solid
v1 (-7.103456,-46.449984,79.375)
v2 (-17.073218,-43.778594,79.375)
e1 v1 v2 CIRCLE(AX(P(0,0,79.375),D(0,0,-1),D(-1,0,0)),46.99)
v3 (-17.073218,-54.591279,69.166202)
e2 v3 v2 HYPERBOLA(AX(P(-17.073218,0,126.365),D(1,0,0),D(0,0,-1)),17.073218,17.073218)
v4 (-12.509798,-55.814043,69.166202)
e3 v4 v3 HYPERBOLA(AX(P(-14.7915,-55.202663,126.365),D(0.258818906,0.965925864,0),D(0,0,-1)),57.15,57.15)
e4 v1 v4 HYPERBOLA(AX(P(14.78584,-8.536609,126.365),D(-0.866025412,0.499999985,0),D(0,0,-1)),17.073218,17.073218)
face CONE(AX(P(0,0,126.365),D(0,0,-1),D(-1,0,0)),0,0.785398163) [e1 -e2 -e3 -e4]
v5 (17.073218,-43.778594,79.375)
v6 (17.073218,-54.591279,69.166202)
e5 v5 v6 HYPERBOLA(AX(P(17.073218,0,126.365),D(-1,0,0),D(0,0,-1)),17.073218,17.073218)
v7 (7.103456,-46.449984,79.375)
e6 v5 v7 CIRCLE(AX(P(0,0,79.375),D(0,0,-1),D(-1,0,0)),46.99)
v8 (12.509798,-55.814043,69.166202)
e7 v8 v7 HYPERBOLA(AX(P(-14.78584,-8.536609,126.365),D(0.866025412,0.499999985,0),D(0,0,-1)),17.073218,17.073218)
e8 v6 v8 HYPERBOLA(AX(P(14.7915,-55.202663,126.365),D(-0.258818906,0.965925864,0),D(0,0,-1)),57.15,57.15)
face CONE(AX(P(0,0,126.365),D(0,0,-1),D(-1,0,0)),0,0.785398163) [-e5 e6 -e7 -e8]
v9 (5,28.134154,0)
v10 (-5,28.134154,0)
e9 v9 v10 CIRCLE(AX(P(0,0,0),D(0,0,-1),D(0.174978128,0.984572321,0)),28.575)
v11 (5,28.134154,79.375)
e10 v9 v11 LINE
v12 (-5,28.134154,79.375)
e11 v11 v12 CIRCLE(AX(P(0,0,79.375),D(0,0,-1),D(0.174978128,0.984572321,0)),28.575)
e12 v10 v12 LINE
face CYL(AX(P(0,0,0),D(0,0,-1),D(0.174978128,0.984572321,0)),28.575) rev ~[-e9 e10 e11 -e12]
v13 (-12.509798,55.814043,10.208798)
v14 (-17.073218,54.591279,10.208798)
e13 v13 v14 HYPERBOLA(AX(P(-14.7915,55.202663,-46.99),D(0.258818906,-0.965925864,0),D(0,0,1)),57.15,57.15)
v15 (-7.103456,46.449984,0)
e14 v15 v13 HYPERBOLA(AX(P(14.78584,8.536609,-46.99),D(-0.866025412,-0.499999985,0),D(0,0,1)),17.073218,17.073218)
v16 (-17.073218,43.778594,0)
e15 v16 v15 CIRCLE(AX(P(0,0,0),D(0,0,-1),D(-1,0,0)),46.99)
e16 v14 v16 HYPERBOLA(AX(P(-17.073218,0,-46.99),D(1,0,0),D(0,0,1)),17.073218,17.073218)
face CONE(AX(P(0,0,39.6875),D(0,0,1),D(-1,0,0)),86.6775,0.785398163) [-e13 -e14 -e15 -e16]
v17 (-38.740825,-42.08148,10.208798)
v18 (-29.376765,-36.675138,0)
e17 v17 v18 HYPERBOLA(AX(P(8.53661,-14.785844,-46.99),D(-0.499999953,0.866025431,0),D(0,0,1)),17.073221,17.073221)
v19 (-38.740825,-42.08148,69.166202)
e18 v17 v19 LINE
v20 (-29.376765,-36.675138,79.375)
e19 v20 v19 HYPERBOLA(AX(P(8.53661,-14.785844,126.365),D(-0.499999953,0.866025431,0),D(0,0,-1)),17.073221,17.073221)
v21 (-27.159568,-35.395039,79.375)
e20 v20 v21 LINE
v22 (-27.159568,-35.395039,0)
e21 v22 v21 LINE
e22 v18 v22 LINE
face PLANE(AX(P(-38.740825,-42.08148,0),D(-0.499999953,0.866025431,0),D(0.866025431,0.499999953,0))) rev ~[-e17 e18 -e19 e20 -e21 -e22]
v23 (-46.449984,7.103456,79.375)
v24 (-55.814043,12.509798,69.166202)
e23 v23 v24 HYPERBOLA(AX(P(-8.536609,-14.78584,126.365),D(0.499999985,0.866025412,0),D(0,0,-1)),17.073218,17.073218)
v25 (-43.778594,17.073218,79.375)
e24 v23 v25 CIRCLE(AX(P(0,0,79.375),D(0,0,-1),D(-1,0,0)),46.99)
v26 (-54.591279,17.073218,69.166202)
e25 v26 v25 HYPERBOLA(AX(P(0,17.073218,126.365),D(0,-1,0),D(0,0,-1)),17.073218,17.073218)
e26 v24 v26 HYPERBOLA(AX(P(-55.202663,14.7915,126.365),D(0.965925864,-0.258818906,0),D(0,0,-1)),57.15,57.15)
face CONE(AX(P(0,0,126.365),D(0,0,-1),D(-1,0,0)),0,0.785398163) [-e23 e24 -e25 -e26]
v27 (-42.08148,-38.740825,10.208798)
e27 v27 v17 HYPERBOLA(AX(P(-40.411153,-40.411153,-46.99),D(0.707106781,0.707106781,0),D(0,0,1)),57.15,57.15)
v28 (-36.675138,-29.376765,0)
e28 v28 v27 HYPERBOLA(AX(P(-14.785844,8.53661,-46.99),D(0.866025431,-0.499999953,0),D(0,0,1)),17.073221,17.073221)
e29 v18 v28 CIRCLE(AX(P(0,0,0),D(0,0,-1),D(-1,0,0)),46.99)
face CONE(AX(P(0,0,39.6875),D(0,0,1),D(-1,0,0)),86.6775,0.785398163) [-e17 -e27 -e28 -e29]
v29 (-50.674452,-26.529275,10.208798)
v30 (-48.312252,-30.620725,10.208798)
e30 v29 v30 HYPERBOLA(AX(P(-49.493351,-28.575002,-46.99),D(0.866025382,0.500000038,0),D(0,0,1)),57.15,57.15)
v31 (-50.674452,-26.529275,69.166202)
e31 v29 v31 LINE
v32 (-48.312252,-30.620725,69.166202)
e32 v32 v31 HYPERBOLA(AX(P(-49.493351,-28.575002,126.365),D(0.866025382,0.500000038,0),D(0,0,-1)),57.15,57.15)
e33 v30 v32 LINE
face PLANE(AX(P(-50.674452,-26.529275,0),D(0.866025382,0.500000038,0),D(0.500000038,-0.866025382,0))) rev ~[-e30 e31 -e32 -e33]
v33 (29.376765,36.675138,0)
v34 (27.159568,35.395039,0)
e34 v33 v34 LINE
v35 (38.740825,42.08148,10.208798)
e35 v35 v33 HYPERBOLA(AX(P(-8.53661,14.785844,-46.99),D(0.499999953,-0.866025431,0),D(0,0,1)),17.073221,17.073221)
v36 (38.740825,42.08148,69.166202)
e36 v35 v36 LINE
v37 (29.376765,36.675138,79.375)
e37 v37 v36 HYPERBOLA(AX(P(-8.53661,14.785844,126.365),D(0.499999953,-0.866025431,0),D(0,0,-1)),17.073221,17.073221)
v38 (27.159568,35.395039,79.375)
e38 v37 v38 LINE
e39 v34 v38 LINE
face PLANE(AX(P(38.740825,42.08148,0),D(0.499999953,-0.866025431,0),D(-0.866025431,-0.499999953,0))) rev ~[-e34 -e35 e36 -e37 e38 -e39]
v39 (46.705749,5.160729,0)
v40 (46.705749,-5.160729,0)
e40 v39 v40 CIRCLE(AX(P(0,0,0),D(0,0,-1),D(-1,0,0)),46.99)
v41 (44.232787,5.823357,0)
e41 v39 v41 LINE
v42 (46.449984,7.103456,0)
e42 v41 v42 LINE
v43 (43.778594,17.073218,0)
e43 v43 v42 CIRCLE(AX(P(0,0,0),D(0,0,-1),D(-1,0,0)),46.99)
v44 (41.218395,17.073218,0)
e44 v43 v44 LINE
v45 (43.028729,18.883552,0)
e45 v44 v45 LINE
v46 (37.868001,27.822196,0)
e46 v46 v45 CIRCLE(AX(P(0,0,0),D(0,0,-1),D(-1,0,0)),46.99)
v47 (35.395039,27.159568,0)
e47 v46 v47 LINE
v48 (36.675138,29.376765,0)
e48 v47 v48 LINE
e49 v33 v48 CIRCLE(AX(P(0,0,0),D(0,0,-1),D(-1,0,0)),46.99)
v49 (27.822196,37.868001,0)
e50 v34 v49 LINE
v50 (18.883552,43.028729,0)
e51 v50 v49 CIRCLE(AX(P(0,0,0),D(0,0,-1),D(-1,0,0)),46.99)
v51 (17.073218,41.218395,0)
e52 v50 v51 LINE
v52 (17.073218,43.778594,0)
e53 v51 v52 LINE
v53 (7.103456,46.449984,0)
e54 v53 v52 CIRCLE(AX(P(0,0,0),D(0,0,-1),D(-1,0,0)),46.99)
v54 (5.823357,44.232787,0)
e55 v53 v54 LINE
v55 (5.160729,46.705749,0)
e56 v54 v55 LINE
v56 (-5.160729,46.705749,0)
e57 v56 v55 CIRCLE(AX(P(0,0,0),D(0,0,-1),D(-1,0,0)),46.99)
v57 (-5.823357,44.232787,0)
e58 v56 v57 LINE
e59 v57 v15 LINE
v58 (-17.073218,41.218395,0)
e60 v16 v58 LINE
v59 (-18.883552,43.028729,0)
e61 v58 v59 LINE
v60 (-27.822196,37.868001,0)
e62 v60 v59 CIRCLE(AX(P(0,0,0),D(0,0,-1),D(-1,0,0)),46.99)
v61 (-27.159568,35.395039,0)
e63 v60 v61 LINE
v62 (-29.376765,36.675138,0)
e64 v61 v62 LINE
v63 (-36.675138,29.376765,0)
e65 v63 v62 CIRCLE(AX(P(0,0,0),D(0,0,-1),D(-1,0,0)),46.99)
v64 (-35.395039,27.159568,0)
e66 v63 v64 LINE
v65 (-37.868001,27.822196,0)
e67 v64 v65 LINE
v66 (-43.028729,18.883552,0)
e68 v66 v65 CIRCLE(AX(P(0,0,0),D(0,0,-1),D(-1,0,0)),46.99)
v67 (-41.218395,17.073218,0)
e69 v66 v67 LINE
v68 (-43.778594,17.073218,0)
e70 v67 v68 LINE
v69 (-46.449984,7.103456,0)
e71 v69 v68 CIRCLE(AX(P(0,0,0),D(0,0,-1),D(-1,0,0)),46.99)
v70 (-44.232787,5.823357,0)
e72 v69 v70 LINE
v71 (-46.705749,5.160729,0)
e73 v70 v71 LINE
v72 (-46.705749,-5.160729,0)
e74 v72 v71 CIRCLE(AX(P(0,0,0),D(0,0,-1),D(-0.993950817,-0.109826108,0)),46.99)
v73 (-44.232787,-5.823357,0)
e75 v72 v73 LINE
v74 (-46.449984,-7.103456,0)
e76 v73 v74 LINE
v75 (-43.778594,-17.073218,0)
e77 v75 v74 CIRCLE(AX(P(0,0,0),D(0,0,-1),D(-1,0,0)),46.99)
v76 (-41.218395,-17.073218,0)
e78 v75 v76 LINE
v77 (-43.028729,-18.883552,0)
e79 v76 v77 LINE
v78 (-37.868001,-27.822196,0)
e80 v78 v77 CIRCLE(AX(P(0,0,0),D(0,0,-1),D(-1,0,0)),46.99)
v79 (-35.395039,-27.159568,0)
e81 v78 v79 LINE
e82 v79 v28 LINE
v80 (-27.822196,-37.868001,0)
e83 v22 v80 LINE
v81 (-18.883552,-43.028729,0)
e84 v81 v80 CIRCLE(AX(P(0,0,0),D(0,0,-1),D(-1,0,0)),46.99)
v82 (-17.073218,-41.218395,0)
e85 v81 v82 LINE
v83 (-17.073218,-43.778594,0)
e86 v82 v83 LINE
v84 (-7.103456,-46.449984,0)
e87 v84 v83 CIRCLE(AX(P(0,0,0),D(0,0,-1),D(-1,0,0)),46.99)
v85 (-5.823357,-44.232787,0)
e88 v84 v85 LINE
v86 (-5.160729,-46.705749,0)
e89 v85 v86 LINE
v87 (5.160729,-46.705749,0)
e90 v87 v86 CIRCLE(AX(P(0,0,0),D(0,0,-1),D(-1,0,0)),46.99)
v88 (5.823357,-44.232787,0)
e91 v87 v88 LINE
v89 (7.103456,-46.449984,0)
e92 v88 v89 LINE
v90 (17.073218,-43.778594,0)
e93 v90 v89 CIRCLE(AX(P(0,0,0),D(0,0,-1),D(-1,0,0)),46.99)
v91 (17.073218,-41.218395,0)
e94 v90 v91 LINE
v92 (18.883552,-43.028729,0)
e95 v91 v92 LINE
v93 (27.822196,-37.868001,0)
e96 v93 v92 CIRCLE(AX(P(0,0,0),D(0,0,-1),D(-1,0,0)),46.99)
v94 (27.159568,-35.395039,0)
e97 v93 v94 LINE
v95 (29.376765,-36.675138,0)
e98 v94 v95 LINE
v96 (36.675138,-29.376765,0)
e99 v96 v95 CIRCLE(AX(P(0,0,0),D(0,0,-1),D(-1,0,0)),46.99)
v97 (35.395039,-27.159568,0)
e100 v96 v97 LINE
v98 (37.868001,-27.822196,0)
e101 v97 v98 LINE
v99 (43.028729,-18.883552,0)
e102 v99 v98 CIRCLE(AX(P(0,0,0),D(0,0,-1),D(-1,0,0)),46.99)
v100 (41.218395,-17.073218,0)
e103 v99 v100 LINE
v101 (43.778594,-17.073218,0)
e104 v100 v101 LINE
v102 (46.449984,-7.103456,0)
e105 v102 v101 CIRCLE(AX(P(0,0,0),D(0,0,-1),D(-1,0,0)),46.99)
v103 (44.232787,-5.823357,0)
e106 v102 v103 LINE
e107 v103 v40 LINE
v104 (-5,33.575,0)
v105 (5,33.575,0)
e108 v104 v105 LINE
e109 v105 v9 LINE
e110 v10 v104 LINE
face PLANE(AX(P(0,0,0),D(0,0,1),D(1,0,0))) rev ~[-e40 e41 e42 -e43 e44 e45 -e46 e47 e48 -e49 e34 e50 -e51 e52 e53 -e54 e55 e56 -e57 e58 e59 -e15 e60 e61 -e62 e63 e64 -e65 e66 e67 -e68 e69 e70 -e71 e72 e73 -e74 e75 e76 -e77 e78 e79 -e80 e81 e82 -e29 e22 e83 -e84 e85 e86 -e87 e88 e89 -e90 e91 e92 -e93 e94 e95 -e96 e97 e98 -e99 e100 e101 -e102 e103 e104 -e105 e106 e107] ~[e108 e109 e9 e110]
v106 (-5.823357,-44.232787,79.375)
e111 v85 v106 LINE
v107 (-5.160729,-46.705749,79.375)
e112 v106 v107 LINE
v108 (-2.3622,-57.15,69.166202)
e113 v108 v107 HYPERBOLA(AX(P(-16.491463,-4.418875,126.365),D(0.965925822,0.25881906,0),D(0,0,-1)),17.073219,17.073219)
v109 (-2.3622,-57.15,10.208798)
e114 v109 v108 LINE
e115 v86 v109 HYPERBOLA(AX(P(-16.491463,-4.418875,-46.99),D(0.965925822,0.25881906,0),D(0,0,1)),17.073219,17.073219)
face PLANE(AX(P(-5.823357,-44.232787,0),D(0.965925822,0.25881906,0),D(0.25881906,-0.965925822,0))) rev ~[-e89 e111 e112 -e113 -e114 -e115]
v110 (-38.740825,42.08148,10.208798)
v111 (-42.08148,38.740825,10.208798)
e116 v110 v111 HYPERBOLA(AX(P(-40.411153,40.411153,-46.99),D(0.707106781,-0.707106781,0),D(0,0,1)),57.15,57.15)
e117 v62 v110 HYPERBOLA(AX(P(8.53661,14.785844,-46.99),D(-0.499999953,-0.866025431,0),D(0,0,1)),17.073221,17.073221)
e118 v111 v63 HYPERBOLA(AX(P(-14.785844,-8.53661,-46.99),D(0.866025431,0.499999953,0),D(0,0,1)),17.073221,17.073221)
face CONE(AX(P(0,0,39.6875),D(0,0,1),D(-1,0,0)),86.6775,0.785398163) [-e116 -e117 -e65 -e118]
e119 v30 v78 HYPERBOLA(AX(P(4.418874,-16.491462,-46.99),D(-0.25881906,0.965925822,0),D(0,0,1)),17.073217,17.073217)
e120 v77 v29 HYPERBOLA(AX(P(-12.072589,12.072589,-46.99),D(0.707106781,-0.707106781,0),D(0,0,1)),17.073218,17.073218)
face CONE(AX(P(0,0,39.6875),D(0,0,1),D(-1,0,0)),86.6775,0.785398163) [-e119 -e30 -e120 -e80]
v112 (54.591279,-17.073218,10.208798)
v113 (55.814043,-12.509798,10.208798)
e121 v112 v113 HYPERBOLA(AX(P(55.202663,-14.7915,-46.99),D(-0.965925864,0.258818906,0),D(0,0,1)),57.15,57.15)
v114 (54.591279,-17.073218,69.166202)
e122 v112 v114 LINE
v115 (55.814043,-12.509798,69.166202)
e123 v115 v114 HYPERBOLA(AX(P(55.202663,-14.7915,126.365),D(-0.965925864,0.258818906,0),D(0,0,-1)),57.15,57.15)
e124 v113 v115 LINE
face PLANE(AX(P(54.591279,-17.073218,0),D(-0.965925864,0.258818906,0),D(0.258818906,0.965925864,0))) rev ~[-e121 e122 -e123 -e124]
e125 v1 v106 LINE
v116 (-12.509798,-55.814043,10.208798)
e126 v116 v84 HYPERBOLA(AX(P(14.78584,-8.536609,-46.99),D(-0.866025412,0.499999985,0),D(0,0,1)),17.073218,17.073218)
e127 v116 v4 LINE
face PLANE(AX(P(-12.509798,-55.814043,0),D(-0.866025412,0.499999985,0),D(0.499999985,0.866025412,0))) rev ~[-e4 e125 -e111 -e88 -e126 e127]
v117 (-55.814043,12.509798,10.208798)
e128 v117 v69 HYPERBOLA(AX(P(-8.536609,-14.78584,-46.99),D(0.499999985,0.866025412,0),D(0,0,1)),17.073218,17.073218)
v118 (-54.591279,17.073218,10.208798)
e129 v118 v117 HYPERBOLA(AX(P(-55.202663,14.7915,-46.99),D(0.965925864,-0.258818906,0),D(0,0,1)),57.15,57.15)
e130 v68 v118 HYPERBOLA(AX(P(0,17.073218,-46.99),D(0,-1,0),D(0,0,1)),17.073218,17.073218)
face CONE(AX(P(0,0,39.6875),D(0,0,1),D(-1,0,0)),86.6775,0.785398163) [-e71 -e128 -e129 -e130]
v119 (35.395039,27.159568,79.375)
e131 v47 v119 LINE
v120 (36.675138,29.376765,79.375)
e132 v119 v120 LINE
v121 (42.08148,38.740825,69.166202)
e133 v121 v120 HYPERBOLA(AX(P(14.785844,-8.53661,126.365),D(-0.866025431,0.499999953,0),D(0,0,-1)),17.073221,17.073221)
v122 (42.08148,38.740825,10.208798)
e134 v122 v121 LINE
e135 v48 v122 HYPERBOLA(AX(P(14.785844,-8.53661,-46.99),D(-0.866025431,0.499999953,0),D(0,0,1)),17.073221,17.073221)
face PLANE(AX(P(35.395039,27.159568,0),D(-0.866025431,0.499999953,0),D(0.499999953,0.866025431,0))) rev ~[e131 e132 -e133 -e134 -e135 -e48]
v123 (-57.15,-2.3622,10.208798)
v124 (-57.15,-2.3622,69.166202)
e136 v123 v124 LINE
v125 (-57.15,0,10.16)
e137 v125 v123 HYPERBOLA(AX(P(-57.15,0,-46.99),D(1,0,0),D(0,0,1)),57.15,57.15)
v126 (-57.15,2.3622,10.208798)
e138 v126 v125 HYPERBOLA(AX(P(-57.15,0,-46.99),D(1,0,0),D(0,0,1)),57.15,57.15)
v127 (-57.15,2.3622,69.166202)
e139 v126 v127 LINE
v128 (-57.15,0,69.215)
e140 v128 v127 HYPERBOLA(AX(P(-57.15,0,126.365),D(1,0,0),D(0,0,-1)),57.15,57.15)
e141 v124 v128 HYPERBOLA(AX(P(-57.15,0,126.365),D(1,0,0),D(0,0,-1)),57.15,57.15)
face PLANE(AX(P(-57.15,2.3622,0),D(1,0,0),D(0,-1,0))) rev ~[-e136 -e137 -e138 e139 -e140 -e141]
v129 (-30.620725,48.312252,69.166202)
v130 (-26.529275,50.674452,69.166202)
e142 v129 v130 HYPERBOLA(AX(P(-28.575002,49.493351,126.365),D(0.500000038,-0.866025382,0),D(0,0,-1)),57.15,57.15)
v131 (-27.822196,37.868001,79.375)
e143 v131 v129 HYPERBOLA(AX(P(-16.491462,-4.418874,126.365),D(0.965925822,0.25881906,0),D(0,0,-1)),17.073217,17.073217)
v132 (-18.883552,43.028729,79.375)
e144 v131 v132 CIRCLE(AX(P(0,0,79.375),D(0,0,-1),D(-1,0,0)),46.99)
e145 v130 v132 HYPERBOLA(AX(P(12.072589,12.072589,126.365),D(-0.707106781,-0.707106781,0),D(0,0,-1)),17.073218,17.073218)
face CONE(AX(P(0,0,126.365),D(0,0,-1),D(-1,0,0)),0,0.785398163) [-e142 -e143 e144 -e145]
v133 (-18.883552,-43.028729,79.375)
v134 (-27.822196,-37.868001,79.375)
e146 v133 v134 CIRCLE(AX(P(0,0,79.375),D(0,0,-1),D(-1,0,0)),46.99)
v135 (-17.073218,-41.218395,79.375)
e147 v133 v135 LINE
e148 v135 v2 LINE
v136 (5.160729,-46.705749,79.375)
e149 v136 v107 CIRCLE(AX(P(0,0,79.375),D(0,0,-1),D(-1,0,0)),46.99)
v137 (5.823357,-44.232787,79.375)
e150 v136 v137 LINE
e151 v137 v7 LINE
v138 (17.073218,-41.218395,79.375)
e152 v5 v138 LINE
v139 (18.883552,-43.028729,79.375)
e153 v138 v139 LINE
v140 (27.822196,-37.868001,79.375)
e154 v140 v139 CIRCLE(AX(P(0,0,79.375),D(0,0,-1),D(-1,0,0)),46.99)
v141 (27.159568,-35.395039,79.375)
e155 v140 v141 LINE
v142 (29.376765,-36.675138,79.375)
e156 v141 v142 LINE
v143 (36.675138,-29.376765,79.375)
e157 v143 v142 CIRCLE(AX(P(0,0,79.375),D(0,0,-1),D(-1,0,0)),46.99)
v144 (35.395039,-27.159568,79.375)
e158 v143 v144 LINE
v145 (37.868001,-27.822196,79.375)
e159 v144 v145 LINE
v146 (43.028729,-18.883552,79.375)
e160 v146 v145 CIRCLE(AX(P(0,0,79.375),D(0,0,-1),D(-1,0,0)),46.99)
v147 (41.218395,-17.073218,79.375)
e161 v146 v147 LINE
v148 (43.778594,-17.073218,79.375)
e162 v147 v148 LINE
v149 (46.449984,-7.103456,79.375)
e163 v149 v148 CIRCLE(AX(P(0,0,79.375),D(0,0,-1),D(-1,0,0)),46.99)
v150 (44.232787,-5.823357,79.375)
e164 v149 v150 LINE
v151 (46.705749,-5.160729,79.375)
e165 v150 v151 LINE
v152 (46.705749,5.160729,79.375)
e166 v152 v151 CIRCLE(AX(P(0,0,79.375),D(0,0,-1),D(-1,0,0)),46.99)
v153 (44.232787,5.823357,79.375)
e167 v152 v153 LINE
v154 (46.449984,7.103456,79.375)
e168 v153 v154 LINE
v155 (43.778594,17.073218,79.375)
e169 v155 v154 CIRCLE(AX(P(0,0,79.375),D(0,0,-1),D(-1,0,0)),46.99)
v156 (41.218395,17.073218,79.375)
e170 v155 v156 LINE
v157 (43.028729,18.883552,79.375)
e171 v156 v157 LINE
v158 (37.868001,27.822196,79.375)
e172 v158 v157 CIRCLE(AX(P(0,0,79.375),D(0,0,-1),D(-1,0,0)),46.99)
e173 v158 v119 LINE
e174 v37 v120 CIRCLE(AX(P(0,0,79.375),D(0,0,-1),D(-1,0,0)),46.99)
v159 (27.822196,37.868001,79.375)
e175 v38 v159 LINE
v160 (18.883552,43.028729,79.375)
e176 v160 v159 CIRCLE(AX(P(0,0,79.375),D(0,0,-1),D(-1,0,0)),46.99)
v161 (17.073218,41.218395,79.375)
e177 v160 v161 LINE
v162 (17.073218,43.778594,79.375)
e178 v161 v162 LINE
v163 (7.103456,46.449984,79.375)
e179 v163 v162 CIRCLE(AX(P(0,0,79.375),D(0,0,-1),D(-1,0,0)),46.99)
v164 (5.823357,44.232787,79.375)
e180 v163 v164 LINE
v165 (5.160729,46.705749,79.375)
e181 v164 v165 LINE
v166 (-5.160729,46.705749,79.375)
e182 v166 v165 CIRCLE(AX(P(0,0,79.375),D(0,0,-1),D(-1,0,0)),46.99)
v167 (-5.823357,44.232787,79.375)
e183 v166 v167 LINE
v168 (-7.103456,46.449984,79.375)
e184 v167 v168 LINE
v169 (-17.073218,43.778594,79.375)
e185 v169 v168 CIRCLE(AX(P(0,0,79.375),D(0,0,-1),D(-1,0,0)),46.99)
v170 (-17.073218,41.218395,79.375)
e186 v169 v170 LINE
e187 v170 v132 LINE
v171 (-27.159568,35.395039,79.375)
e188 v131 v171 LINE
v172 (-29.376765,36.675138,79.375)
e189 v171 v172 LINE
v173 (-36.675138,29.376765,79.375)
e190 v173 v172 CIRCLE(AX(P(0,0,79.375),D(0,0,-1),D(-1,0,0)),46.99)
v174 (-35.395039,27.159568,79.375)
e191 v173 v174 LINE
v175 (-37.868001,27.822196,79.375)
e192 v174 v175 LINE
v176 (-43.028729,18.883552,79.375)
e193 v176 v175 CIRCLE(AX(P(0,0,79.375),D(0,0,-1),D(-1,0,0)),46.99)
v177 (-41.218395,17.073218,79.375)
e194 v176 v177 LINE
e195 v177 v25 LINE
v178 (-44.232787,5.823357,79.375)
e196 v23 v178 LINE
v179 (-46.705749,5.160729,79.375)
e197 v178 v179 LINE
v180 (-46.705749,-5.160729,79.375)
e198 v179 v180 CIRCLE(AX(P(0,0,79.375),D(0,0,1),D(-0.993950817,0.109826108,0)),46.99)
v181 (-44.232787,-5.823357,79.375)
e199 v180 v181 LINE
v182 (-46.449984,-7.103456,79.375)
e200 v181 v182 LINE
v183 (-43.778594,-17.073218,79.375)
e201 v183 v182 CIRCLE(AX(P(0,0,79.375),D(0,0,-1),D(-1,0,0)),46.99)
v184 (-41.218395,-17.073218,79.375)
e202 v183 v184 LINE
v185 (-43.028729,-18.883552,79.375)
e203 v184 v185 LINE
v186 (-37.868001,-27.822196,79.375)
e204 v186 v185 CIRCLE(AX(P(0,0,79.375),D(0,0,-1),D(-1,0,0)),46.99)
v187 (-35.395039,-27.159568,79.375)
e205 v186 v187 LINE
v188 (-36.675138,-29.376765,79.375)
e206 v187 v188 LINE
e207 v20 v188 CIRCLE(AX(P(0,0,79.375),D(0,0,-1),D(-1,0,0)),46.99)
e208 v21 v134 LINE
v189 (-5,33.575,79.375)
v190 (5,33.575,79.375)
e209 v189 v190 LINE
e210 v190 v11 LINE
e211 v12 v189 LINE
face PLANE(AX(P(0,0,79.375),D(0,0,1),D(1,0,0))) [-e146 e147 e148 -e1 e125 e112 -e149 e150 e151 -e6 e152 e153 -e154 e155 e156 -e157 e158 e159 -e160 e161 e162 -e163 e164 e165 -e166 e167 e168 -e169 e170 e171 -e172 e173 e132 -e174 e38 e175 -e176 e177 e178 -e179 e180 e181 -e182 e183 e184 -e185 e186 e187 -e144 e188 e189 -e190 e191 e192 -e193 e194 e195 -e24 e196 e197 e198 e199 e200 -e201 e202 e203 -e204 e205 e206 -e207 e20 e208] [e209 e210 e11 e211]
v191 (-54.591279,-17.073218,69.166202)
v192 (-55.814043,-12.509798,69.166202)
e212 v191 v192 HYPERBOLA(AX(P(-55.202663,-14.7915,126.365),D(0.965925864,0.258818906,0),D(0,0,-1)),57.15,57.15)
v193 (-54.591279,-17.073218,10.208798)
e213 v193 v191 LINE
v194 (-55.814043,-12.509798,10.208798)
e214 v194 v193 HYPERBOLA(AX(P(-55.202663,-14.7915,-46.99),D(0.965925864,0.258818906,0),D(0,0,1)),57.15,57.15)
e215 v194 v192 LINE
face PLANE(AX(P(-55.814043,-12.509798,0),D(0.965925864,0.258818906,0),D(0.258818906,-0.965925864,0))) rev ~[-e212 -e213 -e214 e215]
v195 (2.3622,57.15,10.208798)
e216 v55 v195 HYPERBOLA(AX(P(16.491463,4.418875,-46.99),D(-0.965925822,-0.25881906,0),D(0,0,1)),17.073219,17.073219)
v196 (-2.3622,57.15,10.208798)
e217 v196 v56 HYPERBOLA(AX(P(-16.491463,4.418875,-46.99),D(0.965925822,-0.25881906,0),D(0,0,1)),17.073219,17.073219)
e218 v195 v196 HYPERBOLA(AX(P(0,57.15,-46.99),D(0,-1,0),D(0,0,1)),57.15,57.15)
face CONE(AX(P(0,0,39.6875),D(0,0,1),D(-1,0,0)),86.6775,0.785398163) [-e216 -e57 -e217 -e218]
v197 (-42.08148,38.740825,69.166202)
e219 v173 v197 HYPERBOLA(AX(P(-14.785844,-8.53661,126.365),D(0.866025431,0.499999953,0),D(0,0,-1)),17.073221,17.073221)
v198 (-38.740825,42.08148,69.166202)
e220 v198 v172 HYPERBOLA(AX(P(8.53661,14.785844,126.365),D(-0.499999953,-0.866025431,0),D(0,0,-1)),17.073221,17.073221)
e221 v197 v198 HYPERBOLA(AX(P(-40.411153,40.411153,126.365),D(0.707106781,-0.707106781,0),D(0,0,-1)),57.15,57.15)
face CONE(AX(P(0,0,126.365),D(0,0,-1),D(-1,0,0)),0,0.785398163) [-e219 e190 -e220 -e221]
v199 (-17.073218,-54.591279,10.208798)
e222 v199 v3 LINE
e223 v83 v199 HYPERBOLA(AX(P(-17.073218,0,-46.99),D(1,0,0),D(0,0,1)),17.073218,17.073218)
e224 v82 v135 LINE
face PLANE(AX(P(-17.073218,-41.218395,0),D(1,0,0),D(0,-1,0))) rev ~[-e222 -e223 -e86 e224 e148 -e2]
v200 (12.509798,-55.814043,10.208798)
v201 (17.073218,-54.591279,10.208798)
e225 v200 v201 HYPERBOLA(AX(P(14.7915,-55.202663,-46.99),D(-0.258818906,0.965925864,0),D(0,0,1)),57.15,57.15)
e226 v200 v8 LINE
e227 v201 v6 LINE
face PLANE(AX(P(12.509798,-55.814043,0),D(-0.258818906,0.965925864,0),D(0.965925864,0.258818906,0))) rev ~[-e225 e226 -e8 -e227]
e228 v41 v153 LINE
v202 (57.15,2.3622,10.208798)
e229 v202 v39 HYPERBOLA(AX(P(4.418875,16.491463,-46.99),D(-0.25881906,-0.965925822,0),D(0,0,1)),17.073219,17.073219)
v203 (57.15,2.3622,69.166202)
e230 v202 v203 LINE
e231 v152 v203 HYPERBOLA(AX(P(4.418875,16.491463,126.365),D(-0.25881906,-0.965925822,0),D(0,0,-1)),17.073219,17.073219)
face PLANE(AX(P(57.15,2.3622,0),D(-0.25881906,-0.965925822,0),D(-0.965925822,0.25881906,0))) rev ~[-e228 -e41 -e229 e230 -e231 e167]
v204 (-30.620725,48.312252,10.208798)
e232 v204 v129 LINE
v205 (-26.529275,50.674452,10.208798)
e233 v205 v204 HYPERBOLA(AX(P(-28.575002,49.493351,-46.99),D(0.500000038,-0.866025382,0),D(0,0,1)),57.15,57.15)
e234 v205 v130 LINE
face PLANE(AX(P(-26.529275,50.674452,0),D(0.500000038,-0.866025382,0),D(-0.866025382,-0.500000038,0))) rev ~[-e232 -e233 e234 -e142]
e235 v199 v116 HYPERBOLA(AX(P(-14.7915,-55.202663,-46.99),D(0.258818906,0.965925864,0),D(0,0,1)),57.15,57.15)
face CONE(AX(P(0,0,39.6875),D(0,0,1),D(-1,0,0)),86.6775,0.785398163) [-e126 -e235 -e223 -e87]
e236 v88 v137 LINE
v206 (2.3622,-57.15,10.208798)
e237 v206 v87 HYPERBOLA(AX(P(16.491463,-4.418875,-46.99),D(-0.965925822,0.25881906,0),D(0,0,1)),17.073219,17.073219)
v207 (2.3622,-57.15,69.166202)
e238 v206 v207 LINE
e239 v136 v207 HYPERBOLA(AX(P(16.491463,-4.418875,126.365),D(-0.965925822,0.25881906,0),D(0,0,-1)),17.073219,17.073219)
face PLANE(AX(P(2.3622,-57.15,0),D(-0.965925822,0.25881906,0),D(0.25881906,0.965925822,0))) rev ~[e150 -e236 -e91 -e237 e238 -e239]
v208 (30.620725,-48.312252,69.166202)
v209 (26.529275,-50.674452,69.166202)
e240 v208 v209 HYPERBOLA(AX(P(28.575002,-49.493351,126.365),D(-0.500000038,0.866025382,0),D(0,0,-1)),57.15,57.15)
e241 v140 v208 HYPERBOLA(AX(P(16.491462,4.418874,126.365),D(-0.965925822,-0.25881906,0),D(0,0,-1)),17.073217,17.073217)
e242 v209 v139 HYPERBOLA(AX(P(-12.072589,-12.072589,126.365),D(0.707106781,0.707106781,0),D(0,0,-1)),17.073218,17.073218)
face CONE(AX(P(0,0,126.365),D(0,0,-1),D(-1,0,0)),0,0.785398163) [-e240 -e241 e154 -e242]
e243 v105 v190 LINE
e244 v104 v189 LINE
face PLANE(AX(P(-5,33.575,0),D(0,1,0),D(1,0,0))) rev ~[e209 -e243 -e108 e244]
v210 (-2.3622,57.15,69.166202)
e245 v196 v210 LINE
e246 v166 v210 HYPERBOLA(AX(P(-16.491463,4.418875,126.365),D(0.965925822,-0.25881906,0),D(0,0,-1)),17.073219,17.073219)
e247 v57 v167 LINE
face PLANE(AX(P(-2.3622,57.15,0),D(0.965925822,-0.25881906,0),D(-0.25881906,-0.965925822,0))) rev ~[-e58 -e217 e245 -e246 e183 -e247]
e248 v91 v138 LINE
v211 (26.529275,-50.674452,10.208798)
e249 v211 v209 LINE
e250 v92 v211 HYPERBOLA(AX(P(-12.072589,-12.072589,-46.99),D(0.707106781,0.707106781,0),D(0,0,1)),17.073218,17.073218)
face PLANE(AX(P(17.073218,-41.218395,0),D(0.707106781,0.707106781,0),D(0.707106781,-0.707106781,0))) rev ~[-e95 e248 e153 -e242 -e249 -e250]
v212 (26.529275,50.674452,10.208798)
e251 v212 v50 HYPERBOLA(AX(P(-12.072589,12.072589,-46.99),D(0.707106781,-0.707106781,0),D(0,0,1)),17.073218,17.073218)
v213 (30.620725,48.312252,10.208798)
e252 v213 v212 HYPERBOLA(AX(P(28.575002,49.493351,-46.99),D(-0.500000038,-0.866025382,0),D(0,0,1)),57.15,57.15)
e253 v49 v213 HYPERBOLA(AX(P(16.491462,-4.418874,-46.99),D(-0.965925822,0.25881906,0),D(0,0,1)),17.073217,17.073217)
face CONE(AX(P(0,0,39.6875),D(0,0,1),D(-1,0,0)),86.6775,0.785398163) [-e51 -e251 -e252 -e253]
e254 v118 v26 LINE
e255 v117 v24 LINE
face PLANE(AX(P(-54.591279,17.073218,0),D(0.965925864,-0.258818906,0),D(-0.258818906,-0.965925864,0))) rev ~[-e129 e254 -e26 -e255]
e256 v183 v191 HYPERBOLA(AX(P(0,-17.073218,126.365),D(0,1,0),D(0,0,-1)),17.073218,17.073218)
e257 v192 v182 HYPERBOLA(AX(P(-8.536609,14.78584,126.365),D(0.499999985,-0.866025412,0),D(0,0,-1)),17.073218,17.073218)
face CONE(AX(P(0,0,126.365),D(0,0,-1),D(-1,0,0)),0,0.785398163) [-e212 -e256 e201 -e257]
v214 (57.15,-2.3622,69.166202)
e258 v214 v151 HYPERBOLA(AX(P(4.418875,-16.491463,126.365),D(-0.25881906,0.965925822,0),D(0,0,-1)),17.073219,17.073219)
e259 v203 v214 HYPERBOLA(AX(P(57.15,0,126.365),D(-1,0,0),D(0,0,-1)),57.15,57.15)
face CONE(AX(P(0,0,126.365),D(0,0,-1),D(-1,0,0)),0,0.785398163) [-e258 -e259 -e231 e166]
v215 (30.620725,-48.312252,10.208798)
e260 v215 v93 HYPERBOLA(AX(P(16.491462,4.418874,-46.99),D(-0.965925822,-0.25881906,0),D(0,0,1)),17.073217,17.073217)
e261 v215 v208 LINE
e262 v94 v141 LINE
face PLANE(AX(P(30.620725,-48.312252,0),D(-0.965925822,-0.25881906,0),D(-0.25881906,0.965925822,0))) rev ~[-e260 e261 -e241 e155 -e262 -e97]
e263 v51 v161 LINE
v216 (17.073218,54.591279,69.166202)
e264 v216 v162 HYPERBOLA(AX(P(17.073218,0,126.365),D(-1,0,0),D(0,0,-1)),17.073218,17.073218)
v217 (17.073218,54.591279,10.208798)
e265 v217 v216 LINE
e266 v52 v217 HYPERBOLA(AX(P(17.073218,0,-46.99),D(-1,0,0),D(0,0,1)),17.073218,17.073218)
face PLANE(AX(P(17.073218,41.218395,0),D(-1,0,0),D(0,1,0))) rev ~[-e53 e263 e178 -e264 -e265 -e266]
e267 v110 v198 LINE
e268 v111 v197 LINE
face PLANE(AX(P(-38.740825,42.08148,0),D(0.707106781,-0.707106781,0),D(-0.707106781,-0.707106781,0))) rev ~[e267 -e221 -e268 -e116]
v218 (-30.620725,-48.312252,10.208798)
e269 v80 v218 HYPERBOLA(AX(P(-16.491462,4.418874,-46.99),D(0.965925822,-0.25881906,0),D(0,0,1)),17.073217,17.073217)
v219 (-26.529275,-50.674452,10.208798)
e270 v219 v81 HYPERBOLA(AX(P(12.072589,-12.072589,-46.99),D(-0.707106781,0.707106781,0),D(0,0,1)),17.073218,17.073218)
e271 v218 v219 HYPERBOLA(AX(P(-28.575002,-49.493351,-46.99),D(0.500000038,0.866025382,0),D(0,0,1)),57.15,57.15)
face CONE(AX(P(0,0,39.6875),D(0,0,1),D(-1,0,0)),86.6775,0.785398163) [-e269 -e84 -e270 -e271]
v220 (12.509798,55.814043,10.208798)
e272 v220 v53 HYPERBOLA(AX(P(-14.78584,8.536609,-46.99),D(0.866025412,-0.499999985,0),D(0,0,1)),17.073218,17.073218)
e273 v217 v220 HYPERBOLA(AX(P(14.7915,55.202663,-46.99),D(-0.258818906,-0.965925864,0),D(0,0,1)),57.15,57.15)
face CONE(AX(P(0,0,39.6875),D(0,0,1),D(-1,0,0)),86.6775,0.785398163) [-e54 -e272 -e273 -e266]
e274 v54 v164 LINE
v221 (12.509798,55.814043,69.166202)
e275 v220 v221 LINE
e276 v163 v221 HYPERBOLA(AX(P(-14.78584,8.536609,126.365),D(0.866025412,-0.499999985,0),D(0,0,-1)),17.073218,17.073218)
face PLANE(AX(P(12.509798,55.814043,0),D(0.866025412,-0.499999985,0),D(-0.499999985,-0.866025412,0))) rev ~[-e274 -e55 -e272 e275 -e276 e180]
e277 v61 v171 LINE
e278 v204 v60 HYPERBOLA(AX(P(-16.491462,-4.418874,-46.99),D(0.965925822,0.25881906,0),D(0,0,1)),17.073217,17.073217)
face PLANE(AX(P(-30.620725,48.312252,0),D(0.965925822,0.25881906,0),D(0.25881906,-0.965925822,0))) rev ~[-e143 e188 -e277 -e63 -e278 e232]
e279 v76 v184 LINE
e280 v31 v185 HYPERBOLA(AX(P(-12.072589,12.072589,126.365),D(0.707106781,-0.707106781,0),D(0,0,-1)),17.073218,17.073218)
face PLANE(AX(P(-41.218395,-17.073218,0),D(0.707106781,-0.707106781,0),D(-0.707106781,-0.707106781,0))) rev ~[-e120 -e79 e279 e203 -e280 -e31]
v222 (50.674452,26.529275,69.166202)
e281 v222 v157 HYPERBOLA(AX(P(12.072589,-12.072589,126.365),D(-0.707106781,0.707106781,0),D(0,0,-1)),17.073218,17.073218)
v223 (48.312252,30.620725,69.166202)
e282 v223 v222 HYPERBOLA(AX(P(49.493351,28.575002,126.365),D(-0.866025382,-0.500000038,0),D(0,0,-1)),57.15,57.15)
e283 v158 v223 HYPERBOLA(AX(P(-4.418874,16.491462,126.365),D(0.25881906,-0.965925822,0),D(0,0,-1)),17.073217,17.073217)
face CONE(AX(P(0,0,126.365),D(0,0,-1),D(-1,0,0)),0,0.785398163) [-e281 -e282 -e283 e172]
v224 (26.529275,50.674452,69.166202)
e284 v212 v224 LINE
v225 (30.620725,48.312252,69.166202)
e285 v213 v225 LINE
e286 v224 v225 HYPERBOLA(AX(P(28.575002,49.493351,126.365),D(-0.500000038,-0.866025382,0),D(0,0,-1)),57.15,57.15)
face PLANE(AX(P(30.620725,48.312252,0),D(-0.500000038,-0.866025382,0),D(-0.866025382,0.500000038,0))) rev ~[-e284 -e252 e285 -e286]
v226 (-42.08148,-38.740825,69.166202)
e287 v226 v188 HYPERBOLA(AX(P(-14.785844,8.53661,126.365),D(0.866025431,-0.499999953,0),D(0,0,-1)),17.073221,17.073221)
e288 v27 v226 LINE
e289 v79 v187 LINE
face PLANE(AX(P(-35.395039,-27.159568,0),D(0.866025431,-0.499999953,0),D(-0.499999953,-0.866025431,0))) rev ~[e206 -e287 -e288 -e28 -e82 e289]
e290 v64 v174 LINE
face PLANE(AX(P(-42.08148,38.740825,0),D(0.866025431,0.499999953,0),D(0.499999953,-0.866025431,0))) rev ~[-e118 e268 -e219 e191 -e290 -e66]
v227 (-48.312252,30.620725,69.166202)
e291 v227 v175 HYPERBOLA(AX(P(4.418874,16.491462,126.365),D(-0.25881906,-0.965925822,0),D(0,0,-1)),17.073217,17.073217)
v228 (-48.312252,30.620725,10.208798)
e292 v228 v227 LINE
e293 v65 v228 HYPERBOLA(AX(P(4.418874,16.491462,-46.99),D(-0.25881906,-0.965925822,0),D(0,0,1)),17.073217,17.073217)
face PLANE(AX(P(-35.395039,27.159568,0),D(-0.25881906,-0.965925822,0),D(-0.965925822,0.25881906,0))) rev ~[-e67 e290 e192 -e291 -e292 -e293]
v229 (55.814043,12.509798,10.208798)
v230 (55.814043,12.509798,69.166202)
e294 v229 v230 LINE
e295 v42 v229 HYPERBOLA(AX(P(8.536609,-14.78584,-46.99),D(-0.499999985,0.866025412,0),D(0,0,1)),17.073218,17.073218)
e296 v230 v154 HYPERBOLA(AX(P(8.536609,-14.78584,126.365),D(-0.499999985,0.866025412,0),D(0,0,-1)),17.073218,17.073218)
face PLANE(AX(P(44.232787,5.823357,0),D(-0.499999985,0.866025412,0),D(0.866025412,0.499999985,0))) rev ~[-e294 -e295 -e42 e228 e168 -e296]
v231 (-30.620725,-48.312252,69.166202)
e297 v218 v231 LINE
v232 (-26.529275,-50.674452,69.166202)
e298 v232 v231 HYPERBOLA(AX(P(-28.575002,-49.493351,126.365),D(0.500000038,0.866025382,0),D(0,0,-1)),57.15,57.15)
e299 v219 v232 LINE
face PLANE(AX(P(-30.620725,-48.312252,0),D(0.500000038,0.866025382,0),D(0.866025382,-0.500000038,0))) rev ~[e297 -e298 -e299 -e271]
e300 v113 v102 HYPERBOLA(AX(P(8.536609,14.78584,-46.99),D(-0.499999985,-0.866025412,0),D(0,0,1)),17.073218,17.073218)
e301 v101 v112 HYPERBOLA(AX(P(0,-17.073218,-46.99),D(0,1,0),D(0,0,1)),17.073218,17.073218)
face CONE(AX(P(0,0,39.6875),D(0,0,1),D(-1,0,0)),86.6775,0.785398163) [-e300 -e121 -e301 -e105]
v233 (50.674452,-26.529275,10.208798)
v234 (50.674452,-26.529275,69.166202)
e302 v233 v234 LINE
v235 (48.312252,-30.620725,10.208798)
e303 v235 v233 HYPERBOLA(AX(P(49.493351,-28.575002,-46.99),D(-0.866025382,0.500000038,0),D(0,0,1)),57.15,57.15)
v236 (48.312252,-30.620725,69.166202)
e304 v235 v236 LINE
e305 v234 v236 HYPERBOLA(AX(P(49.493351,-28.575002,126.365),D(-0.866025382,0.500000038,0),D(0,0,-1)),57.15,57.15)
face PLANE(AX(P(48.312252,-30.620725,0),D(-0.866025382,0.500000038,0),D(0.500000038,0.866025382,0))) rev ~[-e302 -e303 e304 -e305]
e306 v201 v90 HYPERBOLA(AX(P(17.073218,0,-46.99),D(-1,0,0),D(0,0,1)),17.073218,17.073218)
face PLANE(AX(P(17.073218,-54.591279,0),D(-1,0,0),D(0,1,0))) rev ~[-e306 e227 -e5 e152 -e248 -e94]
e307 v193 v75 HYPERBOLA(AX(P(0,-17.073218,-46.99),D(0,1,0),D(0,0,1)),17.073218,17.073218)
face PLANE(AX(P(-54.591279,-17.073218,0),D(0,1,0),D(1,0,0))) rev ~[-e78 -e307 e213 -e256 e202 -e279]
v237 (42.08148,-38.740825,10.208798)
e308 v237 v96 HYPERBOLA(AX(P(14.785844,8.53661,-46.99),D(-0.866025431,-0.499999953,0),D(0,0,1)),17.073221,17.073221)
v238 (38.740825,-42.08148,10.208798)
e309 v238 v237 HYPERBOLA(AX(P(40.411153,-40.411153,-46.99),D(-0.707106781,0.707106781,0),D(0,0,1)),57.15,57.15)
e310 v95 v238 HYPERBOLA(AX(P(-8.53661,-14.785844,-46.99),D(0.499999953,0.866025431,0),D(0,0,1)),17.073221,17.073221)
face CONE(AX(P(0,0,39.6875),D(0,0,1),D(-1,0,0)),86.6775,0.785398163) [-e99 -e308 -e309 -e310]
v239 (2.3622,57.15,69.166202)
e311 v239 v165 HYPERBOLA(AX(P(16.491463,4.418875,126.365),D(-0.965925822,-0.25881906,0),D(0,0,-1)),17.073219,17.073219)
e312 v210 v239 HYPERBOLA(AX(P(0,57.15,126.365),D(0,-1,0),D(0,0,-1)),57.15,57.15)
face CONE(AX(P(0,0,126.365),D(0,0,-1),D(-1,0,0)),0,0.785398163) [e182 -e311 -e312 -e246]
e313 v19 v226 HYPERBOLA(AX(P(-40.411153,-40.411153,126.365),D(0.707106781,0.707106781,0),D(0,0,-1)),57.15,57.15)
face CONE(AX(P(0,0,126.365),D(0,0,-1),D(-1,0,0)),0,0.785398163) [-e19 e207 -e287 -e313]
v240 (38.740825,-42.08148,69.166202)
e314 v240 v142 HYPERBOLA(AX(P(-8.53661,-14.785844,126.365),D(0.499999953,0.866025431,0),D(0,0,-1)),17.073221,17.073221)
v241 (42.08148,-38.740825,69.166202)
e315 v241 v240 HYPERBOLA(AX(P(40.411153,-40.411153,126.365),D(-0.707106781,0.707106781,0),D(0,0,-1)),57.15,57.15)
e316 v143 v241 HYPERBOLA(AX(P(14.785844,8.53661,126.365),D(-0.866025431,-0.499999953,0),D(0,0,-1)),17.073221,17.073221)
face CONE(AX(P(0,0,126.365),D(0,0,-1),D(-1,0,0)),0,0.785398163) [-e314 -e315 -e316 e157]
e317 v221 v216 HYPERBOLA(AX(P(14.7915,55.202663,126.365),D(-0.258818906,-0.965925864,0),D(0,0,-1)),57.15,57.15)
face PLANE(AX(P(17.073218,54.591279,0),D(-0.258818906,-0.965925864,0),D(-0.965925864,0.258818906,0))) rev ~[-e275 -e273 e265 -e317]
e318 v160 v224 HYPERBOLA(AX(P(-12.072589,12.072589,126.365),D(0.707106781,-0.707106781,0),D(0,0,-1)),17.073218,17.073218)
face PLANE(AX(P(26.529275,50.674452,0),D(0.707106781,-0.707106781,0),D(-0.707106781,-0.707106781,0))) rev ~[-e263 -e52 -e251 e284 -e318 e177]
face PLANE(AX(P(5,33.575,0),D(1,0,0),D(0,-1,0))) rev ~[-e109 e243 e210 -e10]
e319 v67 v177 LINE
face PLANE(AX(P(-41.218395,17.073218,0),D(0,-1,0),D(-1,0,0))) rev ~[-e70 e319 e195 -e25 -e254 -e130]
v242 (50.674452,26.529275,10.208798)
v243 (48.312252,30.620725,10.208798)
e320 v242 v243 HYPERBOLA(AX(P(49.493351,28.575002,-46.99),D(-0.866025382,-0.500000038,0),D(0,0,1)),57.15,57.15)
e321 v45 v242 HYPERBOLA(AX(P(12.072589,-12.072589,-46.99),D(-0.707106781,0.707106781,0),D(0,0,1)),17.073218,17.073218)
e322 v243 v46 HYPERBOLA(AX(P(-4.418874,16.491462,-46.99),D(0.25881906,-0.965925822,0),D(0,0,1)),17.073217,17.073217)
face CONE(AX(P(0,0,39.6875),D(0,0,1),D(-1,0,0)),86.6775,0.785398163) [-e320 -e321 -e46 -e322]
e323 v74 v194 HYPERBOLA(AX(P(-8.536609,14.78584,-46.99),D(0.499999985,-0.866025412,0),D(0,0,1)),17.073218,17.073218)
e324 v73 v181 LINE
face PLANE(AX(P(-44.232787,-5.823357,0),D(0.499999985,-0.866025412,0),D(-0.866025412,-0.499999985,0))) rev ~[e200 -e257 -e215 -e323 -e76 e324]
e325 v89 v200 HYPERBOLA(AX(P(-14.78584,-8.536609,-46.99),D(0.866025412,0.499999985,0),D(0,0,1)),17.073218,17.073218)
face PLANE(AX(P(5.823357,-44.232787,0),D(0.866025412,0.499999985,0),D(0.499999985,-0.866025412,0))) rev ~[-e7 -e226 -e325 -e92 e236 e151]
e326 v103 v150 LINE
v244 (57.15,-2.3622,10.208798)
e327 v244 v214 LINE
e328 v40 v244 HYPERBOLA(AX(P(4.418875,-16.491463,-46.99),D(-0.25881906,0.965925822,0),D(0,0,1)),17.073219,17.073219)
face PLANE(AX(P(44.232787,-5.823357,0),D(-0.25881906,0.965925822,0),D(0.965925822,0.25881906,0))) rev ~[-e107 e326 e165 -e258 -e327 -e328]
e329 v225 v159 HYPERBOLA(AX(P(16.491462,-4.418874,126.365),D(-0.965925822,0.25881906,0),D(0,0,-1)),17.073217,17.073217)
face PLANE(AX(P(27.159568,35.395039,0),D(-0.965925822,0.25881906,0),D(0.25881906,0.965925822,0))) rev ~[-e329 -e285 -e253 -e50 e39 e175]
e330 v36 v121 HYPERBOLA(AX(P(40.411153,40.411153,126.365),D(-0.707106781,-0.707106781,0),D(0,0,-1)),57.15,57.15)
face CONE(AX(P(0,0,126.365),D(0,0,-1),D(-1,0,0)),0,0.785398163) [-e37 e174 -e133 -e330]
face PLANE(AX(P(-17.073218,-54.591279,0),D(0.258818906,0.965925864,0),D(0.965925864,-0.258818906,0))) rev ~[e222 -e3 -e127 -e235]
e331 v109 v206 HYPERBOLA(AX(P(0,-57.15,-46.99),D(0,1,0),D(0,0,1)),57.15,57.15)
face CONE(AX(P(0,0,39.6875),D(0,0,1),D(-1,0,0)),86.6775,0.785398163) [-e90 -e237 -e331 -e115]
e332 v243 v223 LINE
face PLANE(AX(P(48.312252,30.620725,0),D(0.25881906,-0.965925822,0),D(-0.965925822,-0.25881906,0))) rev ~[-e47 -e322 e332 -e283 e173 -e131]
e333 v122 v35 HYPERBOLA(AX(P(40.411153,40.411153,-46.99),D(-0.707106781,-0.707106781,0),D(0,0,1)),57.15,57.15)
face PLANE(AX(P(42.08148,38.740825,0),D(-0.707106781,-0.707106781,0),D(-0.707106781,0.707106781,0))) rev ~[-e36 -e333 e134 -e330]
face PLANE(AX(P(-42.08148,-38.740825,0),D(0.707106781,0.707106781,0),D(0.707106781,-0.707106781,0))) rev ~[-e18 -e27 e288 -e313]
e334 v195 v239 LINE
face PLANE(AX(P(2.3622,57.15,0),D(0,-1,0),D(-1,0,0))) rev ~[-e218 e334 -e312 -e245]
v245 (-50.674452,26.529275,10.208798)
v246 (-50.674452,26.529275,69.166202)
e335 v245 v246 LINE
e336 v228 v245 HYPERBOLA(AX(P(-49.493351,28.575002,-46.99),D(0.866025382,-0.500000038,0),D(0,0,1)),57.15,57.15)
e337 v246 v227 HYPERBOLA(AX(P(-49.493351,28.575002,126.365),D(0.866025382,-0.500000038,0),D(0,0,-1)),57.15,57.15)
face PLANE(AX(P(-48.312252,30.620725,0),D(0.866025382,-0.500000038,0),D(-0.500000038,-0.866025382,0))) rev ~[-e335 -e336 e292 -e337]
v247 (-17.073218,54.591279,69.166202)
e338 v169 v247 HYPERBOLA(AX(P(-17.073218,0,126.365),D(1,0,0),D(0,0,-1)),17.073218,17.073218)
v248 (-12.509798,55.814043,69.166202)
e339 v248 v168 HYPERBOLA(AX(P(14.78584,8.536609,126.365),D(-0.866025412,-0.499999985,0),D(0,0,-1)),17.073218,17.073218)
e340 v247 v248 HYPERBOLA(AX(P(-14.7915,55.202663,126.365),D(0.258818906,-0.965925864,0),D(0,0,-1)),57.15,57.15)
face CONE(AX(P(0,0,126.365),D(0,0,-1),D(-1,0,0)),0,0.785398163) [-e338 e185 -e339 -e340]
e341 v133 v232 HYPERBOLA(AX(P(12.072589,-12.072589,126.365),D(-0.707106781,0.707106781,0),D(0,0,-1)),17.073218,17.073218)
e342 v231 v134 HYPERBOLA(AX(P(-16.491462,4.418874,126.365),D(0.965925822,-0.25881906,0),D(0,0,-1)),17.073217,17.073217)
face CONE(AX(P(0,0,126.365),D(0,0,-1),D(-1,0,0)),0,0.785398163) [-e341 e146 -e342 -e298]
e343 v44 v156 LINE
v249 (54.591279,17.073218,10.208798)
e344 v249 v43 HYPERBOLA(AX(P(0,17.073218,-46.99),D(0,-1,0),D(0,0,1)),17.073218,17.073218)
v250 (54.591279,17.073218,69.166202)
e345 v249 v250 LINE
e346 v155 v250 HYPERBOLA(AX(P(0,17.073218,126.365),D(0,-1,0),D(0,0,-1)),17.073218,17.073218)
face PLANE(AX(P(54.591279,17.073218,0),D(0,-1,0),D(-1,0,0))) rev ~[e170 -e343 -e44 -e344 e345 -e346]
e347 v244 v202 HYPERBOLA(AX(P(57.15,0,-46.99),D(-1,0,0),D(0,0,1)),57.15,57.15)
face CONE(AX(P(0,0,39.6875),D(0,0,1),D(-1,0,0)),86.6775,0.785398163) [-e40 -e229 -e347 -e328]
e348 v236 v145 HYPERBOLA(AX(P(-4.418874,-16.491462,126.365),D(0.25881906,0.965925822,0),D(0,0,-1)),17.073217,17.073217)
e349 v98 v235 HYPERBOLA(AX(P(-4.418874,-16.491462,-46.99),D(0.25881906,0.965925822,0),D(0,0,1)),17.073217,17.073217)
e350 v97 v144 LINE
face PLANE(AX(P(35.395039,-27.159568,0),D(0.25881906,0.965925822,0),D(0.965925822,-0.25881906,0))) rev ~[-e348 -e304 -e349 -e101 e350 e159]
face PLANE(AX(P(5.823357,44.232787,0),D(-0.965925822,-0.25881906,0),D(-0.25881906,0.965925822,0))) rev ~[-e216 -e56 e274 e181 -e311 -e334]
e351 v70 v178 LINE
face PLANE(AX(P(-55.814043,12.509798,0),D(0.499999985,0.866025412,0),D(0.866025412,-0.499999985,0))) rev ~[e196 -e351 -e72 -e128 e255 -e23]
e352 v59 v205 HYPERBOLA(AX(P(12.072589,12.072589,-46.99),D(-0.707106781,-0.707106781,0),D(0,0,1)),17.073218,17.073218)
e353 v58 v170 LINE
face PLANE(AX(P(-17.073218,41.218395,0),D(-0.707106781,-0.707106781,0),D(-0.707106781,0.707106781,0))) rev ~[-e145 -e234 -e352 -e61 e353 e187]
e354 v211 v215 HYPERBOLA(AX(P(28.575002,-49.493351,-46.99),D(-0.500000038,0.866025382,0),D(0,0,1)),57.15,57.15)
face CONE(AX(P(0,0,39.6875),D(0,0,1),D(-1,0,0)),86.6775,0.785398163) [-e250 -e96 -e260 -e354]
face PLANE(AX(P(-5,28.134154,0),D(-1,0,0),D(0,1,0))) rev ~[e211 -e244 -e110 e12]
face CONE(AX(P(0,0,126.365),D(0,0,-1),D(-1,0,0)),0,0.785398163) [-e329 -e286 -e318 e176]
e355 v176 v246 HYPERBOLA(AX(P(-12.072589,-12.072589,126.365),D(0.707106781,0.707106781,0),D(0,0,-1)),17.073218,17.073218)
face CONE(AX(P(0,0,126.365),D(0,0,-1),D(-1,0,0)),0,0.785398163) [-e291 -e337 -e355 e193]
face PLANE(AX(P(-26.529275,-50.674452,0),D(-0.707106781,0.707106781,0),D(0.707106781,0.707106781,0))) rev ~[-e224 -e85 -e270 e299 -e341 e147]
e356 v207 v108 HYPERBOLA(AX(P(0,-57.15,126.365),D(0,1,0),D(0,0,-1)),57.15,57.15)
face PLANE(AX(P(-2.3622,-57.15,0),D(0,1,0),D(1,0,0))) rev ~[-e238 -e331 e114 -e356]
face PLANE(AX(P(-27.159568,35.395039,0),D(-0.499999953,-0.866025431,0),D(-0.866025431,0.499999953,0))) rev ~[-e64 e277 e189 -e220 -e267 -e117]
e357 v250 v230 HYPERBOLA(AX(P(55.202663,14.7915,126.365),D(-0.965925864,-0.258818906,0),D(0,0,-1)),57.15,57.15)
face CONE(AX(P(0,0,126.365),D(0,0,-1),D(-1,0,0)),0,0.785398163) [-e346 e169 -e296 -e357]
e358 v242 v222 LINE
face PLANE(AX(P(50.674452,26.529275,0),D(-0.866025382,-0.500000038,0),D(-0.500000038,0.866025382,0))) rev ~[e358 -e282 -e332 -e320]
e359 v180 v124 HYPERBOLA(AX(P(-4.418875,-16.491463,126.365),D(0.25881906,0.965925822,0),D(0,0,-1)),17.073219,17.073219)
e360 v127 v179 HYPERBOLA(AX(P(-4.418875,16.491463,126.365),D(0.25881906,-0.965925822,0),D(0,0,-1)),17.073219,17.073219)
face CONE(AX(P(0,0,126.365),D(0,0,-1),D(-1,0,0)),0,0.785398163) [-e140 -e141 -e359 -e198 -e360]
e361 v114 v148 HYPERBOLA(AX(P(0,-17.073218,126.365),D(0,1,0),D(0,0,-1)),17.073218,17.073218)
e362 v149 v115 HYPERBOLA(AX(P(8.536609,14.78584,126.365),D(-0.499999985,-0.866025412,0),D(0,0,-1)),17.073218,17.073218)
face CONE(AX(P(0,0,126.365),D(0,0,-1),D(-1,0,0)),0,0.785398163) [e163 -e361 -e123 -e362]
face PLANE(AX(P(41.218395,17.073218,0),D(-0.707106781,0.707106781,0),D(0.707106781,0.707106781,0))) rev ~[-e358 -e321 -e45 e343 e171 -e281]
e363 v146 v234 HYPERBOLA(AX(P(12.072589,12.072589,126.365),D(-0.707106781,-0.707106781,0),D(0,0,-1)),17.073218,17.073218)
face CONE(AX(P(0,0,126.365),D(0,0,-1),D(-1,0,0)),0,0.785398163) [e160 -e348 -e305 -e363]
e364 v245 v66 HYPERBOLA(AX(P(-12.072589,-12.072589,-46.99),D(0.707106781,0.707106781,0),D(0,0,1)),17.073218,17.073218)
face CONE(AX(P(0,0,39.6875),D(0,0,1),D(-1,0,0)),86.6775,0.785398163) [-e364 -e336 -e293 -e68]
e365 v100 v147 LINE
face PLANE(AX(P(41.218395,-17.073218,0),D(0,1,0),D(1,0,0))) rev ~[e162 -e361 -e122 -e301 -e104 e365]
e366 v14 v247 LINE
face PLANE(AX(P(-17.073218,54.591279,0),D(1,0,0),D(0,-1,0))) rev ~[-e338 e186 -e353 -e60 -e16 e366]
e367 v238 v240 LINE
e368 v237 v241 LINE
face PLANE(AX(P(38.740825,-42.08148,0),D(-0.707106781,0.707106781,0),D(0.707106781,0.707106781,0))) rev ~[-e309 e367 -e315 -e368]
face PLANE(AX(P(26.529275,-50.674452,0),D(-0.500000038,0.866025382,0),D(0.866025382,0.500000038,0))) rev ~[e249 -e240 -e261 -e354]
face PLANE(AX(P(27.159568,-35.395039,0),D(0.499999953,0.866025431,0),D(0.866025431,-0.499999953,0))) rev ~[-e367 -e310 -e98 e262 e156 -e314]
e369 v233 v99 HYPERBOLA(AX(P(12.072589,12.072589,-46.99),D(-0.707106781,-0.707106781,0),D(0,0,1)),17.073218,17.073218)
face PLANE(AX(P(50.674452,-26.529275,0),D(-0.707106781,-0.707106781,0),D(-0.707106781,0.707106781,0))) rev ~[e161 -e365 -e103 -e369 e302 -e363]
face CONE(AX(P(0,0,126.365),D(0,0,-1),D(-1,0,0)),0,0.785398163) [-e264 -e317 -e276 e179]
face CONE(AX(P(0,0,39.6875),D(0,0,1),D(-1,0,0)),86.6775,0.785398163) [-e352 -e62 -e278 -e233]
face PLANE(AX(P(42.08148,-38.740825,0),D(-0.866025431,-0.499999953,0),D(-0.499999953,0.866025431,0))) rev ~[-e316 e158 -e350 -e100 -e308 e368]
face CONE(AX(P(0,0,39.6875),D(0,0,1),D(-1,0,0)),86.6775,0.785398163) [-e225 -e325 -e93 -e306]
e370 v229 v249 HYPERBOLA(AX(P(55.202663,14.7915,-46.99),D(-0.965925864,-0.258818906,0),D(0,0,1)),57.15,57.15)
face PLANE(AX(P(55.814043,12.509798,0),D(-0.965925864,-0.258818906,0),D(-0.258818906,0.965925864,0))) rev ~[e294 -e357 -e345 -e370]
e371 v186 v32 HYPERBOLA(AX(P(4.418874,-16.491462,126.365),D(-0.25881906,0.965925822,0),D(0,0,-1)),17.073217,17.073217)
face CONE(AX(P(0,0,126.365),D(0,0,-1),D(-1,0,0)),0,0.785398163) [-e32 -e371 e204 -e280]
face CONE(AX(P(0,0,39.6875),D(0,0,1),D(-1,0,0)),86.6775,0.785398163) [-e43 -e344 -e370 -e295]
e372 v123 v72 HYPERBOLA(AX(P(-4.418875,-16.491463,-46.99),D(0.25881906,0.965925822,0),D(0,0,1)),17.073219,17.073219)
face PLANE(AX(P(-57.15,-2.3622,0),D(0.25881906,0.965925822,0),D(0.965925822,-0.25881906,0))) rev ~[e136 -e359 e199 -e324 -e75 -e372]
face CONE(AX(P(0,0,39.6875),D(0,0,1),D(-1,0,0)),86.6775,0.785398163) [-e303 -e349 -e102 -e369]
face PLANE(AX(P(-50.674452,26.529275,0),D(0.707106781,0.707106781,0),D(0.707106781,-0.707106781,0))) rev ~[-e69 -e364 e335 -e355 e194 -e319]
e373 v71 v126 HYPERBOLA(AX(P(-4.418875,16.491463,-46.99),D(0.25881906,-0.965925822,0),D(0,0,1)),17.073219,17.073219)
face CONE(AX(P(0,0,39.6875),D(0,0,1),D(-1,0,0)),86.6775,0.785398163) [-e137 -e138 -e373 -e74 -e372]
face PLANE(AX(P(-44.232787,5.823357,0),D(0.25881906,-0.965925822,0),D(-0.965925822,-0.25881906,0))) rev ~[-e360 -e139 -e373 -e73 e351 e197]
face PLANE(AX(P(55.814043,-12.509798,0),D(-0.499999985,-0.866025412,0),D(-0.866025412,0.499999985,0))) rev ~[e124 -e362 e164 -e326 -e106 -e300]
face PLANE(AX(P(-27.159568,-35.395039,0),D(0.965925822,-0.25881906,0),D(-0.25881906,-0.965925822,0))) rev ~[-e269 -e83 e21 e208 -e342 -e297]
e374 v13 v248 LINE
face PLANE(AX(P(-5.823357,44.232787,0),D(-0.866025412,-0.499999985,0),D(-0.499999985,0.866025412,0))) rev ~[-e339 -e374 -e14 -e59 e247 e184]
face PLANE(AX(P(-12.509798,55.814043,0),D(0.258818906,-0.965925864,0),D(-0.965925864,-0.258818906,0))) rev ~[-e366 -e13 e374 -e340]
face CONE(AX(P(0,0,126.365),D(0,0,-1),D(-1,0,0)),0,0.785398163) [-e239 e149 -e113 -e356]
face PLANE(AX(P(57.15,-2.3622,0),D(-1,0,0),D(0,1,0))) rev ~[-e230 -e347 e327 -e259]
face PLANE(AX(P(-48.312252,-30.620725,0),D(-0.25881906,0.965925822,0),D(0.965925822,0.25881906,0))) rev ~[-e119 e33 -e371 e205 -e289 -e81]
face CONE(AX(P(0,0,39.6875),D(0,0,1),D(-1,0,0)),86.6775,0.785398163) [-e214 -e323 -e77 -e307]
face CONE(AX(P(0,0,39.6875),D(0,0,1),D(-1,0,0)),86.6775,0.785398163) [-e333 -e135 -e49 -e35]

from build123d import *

# Parameters (mm, degrees)
F1_DEPTH = 79.375


with BuildPart() as f1:
    # F0 (on Top) → F1 (new body)
    with BuildSketch(Plane.XY):
        Polygon((2.3622, 57.15), (-2.3622, 57.15), (-5.823357, 44.232787), (-12.509798, 55.814043), (-17.073218, 54.591279), (-17.073218, 41.218395), (-26.529275, 50.674452), (-30.620725, 48.312252), (-27.159568, 35.395039), (-38.740825, 42.08148), (-42.08148, 38.740825), (-35.395039, 27.159568), (-48.312252, 30.620725), (-50.674452, 26.529275), (-41.218395, 17.073218), (-54.591279, 17.073218), (-55.814043, 12.509798), (-44.232787, 5.823357), (-57.15, 2.3622), (-57.15, -2.3622), (-44.232787, -5.823357), (-55.814043, -12.509798), (-54.591279, -17.073218), (-41.218395, -17.073218), (-50.674452, -26.529275), (-48.312252, -30.620725), (-35.395039, -27.159568), (-42.08148, -38.740825), (-38.740825, -42.08148), (-27.159568, -35.395039), (-30.620725, -48.312252), (-26.529275, -50.674452), (-17.073218, -41.218395), (-17.073218, -54.591279), (-12.509798, -55.814043), (-5.823357, -44.232787), (-2.3622, -57.15), (2.3622, -57.15), (5.823357, -44.232787), (12.509798, -55.814043), (17.073218, -54.591279), (17.073218, -41.218395), (26.529275, -50.674452), (30.620725, -48.312252), (27.159568, -35.395039), (38.740825, -42.08148), (42.08148, -38.740825), (35.395039, -27.159568), (48.312252, -30.620725), (50.674452, -26.529275), (41.218395, -17.073218), (54.591279, -17.073218), (55.814043, -12.509798), (44.232787, -5.823357), (57.15, -2.3622), (57.15, 2.3622), (44.232787, 5.823357), (55.814043, 12.509798), (54.591279, 17.073218), (41.218395, 17.073218), (50.674452, 26.529275), (48.312252, 30.620725), (35.395039, 27.159568), (42.08148, 38.740825), (38.740825, 42.08148), (27.159568, 35.395039), (30.620725, 48.312252), (26.529275, 50.674452), (17.073218, 41.218395), (17.073218, 54.591279), (12.509798, 55.814043), (5.823357, 44.232787), align=None)
        with BuildLine():
            Line((-5, 33.575), (5, 33.575))
            Line((5, 33.575), (5, 28.134154))
            ThreePointArc((5, 28.134154), (0, -28.575), (-5, 28.134154))
            Line((-5, 28.134154), (-5, 33.575))
        make_face(mode=Mode.SUBTRACT)
    extrude(amount=F1_DEPTH)

    # F2 (on Front) → F3 (revolve, intersect)
    with BuildSketch(Plane.XZ):
        Polygon((0, -46.99), (0, 126.365), (-86.6775, 39.6875), align=None)
    revolve(axis=Axis((0, 0, 39.6875), (0, 0, -1)), mode=Mode.INTERSECT)


solid = f1.part
